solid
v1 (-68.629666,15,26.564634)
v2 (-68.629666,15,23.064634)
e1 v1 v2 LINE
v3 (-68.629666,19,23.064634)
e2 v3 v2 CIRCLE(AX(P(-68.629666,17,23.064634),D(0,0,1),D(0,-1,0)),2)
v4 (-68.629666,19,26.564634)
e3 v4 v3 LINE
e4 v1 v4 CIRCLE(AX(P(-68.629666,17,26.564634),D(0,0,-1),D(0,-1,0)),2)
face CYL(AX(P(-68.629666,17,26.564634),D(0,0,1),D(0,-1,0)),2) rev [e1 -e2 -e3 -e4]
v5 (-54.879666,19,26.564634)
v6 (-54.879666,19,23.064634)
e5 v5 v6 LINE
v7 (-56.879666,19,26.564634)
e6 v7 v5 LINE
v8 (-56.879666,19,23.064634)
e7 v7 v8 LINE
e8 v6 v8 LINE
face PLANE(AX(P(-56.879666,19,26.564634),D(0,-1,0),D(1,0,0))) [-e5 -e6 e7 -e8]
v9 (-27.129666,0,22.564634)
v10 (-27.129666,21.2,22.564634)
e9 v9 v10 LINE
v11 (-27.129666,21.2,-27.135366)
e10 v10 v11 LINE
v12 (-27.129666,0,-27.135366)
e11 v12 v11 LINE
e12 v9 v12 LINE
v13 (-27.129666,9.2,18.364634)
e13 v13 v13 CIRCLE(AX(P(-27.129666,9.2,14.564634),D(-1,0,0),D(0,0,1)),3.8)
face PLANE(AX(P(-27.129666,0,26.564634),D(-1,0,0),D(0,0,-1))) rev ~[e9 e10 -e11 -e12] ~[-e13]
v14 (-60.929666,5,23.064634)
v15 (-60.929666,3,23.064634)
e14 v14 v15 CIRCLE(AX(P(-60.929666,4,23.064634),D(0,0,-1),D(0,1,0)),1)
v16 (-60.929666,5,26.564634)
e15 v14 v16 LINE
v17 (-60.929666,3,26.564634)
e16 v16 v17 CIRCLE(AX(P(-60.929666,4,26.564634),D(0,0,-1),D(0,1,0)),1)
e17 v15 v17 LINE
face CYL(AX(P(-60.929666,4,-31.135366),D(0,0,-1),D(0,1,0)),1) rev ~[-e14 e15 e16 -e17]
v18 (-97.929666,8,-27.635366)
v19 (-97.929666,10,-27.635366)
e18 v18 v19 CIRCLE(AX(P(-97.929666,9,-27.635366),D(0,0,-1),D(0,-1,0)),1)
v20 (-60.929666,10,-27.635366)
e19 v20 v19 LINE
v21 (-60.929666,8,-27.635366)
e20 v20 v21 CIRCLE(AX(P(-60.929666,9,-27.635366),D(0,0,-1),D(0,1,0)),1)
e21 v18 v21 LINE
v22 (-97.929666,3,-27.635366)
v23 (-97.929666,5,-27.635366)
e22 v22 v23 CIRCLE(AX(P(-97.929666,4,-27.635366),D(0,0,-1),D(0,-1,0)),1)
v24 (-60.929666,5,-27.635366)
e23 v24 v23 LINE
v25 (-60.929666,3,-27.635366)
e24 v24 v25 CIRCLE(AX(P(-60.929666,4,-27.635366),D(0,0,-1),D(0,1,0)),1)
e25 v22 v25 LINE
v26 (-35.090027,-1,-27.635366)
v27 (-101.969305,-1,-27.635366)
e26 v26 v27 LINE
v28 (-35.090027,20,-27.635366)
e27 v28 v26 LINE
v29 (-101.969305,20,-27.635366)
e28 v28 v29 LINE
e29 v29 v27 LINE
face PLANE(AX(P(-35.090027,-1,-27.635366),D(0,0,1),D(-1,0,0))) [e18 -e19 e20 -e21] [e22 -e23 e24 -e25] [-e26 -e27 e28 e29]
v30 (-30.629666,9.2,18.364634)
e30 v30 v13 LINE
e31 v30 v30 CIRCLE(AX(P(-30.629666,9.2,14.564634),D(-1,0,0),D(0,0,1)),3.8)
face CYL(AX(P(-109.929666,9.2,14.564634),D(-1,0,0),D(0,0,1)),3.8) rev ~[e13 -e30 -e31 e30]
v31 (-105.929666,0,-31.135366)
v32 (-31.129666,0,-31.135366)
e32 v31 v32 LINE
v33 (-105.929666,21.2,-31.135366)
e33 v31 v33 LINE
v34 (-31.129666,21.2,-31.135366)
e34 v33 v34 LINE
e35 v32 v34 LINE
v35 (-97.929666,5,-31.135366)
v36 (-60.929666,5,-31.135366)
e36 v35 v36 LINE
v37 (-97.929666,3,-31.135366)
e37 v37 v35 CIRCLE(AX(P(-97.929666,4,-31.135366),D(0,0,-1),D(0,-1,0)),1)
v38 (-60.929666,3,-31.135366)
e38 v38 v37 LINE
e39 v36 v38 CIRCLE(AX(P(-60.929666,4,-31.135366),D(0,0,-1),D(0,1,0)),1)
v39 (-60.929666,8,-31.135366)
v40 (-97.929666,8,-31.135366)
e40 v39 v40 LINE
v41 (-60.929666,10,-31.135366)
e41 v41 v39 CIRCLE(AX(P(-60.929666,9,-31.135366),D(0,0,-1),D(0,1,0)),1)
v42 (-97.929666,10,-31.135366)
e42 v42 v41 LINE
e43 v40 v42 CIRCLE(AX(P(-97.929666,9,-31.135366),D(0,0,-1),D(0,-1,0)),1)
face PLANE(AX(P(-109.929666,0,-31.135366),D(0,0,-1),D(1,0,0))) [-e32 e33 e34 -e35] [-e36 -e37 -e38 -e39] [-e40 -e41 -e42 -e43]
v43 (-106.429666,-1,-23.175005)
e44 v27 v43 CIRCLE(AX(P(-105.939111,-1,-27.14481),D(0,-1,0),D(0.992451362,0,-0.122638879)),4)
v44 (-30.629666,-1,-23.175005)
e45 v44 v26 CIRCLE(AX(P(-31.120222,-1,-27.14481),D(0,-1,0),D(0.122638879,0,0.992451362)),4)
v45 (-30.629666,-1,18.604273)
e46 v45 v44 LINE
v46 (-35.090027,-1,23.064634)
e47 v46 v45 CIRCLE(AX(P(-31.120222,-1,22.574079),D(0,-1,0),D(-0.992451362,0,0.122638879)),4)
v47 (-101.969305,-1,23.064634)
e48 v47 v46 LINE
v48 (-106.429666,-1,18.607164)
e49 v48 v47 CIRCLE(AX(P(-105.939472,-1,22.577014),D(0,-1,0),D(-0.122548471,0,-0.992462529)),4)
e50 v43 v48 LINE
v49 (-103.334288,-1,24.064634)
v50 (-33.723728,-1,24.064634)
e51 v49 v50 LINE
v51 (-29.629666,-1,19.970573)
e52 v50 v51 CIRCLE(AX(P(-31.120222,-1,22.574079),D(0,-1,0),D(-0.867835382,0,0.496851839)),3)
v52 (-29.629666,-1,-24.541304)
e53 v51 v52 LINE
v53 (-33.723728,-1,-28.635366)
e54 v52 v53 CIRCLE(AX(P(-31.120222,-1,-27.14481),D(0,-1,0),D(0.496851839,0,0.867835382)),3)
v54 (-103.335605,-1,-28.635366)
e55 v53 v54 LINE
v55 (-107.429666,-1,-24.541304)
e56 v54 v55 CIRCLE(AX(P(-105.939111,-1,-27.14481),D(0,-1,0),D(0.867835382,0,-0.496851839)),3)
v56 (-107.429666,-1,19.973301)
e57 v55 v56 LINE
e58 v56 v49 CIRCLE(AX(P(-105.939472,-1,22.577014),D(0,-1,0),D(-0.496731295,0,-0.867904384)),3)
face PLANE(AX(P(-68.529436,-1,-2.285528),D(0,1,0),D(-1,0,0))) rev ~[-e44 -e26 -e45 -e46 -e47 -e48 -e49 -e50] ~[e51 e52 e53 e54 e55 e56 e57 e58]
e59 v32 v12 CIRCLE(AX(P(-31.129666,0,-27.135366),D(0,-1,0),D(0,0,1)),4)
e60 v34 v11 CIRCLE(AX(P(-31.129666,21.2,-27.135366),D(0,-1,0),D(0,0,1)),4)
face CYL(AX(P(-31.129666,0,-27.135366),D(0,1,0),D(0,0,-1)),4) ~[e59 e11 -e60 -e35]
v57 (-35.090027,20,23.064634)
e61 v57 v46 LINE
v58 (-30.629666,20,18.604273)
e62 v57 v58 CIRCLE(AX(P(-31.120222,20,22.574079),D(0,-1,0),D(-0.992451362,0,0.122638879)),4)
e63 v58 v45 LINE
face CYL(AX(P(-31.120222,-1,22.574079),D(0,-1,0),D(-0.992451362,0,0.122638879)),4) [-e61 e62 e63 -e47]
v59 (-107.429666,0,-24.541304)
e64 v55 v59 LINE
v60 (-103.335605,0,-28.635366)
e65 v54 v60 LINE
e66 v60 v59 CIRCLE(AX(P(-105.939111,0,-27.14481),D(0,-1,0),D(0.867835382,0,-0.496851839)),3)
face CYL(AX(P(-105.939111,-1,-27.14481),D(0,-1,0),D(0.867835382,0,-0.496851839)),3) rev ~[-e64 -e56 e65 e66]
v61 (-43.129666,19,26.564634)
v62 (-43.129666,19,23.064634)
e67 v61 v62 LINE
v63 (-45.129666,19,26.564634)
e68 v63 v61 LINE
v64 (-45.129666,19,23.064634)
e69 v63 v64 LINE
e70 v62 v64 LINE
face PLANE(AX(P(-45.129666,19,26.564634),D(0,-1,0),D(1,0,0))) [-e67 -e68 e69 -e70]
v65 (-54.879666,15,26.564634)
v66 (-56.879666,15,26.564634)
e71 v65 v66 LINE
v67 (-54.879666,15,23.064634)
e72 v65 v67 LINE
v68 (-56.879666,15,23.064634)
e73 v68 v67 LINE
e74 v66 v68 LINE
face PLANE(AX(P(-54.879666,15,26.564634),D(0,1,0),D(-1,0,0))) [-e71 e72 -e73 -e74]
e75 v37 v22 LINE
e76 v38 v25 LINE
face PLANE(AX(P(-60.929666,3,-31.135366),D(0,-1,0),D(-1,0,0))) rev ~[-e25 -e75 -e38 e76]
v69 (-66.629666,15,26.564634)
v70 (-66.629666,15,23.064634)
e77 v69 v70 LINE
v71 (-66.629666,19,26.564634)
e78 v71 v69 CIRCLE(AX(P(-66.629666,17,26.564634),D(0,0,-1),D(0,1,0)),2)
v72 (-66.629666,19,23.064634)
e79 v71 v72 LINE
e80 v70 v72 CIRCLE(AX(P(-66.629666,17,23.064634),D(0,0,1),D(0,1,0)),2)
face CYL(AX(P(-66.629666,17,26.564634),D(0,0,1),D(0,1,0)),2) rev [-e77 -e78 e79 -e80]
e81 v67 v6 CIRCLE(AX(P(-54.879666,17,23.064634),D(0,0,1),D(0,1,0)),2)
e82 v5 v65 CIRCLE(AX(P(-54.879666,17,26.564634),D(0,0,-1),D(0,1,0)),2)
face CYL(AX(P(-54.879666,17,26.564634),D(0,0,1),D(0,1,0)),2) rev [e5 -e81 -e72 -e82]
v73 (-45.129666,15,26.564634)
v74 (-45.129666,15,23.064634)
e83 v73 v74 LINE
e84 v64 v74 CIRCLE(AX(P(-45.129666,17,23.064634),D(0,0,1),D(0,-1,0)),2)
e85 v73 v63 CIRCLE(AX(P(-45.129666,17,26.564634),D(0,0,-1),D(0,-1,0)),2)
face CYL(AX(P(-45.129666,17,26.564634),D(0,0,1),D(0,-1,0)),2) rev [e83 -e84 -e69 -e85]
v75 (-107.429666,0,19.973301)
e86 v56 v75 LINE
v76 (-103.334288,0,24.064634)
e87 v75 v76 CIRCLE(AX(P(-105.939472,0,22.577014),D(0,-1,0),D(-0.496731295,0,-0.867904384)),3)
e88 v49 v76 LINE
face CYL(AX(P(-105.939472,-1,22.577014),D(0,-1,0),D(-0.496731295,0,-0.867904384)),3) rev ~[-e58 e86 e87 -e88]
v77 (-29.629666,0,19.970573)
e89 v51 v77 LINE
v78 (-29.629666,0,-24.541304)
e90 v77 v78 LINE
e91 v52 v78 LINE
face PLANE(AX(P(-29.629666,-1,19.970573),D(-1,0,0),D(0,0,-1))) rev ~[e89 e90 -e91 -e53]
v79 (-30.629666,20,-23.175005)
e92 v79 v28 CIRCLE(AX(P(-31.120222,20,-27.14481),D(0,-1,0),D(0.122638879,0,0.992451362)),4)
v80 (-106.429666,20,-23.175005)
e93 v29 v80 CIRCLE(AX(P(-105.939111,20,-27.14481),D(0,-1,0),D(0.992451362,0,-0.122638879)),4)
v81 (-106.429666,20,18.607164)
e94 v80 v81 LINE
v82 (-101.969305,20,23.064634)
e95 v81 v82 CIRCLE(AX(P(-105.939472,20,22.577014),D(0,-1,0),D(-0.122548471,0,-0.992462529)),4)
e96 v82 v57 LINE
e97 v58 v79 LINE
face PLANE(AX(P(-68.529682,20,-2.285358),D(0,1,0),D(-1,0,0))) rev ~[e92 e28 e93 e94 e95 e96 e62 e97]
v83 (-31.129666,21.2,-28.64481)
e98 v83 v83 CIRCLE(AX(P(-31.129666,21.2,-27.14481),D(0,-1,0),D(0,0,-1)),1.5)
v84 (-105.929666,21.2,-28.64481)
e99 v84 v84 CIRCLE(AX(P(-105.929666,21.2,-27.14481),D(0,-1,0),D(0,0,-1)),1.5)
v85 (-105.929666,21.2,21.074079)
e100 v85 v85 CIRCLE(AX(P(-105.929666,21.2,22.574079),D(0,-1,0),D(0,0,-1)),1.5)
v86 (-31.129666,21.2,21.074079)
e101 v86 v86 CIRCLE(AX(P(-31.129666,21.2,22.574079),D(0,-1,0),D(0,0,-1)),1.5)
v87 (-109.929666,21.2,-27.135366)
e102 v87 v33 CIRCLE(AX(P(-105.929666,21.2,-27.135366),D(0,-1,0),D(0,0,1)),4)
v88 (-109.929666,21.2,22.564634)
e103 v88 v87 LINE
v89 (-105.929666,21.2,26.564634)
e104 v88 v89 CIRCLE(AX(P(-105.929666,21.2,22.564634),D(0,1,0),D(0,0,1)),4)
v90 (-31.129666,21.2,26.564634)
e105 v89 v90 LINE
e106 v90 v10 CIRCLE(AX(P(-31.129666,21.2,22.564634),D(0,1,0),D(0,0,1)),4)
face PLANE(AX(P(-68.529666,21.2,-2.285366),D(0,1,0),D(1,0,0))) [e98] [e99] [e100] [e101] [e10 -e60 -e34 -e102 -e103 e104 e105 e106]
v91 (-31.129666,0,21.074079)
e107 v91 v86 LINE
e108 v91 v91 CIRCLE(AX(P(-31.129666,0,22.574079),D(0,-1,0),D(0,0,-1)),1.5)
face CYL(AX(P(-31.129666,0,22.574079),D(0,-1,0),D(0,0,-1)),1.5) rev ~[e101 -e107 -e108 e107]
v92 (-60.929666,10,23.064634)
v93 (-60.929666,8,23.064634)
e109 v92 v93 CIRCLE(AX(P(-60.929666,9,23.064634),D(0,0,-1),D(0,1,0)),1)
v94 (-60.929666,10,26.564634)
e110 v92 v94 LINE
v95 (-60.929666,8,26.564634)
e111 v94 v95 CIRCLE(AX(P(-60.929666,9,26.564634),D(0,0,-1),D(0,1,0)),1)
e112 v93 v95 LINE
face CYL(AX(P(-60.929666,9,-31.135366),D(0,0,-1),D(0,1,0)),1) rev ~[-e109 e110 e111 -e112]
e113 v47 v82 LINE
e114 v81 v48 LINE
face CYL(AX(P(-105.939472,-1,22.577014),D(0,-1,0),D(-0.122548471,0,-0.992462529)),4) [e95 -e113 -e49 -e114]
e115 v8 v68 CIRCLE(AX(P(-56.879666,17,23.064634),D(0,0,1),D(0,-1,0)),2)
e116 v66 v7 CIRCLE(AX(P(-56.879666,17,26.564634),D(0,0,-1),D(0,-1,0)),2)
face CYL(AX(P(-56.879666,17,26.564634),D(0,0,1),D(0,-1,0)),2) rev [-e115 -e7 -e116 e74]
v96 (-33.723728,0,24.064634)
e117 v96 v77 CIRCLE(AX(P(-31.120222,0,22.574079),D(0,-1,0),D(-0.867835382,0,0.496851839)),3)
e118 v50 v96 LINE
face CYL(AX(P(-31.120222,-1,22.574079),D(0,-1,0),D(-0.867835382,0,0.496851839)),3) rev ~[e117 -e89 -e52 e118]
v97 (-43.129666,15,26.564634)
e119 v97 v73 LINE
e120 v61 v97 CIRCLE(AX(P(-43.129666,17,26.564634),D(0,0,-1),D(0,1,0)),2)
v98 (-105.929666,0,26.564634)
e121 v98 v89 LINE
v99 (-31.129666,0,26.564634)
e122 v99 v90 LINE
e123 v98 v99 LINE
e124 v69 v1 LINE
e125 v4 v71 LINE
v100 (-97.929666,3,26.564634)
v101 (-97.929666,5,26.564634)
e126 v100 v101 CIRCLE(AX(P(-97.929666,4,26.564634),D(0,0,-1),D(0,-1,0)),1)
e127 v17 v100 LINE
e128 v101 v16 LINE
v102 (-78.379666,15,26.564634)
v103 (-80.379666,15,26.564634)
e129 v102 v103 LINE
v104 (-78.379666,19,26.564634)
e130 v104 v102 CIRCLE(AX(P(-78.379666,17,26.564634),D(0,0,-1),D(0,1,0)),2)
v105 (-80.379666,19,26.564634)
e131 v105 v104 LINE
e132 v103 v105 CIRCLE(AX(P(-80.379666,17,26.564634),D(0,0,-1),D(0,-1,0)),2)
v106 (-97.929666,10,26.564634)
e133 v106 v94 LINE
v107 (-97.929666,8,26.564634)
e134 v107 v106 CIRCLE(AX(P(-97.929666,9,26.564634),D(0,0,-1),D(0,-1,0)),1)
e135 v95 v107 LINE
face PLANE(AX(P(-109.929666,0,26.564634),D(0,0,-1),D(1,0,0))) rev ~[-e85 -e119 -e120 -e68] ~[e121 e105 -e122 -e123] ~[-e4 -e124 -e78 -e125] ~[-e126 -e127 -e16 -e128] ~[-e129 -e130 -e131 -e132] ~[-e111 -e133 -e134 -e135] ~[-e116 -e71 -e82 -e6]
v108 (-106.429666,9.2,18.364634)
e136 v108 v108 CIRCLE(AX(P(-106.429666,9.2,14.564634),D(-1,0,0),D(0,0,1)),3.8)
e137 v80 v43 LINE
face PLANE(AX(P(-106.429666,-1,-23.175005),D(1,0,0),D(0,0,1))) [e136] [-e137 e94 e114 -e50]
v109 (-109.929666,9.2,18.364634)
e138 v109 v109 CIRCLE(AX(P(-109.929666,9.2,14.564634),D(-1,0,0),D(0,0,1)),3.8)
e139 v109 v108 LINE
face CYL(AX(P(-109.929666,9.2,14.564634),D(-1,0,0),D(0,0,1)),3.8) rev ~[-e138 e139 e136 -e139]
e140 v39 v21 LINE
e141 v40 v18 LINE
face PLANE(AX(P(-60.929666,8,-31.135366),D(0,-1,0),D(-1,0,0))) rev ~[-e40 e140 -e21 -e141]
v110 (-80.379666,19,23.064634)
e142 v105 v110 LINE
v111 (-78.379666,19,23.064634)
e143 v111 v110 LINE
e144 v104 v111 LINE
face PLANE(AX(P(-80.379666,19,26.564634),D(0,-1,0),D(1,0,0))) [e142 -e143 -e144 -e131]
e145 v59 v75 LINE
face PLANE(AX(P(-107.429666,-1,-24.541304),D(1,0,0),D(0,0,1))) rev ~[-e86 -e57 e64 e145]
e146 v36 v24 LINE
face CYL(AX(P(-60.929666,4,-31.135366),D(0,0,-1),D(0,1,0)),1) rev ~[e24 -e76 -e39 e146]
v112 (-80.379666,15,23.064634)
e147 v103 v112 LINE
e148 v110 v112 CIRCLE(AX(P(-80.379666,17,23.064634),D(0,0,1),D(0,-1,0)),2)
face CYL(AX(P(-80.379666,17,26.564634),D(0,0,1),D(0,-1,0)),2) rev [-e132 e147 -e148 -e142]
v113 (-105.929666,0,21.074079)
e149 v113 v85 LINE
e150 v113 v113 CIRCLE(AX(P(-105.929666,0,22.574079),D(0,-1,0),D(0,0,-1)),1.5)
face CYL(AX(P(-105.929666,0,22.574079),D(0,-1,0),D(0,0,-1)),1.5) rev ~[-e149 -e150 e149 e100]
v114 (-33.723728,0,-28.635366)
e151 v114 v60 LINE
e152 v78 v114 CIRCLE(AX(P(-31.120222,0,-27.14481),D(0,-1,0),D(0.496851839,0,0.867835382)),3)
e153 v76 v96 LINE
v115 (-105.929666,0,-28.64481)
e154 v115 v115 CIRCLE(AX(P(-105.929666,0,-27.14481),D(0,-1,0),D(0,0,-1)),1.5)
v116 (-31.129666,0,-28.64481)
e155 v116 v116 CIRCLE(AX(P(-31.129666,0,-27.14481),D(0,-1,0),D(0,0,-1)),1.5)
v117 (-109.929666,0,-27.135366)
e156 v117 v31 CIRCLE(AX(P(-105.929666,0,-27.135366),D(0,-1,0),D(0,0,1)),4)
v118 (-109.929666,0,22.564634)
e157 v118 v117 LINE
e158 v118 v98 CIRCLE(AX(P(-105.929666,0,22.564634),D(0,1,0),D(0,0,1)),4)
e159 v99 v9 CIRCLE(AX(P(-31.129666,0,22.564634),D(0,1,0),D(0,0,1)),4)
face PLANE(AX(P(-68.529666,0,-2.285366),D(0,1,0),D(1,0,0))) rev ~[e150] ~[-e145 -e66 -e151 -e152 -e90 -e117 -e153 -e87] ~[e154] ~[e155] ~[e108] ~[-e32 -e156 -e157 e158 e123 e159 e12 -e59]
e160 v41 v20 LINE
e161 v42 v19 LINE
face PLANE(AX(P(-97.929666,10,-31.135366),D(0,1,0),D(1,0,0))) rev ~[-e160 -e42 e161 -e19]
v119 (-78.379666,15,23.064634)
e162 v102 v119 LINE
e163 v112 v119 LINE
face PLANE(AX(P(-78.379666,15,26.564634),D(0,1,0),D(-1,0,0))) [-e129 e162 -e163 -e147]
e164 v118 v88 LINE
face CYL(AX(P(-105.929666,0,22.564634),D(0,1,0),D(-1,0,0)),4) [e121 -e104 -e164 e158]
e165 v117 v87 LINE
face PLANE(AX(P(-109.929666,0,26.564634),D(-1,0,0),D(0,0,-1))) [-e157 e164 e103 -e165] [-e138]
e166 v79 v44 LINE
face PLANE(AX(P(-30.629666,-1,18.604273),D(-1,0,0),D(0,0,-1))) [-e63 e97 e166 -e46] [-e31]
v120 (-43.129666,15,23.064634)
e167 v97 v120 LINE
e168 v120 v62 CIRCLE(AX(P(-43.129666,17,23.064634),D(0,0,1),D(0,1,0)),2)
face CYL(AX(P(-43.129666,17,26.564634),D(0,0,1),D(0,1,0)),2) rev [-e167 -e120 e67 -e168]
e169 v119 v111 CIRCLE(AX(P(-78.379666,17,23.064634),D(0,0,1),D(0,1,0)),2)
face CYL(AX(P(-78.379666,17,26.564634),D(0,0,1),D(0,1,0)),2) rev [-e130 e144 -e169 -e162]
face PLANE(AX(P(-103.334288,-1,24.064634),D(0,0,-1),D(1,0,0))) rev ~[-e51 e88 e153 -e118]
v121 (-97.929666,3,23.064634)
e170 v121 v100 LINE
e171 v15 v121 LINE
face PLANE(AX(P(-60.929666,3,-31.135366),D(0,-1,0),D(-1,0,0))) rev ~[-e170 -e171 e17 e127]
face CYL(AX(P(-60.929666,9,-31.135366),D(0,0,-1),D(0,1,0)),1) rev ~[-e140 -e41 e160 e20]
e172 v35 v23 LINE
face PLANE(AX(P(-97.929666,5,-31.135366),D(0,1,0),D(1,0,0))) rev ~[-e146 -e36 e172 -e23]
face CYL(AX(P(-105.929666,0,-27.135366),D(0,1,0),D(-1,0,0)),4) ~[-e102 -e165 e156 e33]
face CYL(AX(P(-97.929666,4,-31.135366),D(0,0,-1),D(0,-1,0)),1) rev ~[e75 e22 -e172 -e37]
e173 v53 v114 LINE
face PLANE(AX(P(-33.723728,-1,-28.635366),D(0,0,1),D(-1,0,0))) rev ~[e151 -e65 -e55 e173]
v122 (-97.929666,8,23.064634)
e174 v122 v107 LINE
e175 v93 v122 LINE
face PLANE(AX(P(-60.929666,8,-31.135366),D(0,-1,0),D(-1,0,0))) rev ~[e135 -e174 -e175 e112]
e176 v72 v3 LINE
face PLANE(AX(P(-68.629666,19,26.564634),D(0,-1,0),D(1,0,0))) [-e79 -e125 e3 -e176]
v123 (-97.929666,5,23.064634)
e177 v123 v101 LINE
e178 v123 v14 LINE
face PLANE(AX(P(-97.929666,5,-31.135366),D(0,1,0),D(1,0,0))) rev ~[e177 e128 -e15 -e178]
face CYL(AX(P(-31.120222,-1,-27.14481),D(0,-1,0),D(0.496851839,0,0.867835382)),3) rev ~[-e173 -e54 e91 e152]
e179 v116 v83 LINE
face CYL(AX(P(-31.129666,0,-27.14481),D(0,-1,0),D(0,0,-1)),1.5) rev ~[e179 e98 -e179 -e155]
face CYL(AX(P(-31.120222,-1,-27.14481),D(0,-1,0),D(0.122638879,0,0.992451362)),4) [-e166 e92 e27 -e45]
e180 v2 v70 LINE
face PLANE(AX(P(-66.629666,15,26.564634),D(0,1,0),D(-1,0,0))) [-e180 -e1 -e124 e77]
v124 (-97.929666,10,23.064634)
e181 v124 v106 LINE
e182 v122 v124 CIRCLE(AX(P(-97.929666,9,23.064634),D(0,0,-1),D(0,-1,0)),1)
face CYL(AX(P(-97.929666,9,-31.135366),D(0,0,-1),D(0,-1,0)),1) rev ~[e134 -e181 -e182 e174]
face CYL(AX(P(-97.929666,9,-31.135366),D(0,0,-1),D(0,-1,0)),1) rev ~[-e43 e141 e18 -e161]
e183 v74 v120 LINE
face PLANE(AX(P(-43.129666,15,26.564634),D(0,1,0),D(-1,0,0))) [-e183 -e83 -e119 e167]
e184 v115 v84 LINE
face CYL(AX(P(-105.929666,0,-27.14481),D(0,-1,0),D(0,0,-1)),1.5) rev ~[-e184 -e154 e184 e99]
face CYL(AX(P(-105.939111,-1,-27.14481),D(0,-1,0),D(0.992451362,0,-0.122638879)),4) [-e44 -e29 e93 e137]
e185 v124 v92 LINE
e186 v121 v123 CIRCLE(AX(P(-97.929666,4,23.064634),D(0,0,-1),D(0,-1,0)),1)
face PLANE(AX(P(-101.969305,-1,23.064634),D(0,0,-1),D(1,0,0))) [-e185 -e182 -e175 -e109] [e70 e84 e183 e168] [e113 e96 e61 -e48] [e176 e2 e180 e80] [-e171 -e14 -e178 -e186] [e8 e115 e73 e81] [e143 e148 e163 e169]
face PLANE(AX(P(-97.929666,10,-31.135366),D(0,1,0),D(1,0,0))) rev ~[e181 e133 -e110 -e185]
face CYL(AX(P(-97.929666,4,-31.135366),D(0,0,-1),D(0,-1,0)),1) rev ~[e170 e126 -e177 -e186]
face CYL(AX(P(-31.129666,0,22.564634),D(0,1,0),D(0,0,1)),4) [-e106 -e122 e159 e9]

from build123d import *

# Parameters (mm, degrees)
SKETCH1_W           = 82.8
SKETCH1_H           = 57.7
BOSS_EXTRUDE1_DEPTH = 21.2
SKETCH2_R           = 1.5
CUT_EXTRUDE1_DEPTH  = 22
CUT_EXTRUDE2_DEPTH  = 20
FILLET3_R           = 4
BOSS_EXTRUDE3_START = 1
BOSS_EXTRUDE3_DEPTH = 1
CUT_EXTRUDE6_DEPTH  = 126.949440358
SKETCH8_R           = 3.8
CUT_EXTRUDE7_DEPTH  = 91.96532852
CUT_EXTRUDE8_DEPTH  = 10


with BuildPart() as part:
    # Sketch1 → Boss-Extrude1 (new body)
    with BuildSketch(Plane(origin=(0, 0, 0), x_dir=(1, 0, 0), z_dir=(0, 1, 0))):
        with Locations((-68.529666271, 2.285365627)):
            Rectangle(SKETCH1_W, SKETCH1_H)
    extrude(amount=BOSS_EXTRUDE1_DEPTH)

    # Sketch2 → Cut-Extrude1 (cut)
    with BuildSketch(Plane.XZ):
        with Locations((-105.929666271, 22.574078856)):
            Circle(SKETCH2_R)
        with Locations((-31.129666271, 22.574078856)):
            Circle(SKETCH2_R)
        with Locations((-105.929666271, -27.14481011)):
            Circle(SKETCH2_R)
        with Locations((-31.129666271, -27.14481011)):
            Circle(SKETCH2_R)
    extrude(amount=-CUT_EXTRUDE1_DEPTH, mode=Mode.SUBTRACT)

    # Sketch3 → Cut-Extrude2 (cut)
    with BuildSketch(Plane.XZ):
        with BuildLine():
            Line((-101.969305307, 23.064634373), (-35.090027235, 23.064634373))
            ThreePointArc((-35.090027235, 23.064634373), (-33.948648913, 19.745651731), (-30.629666271, 18.604273409))
            Line((-30.629666271, 18.604273409), (-30.629666271, -23.175004663))
            ThreePointArc((-30.629666271, -23.175004663), (-33.948648913, -24.316382985), (-35.090027235, -27.635365627))
            Line((-35.090027235, -27.635365627), (-101.969305307, -27.635365627))
            ThreePointArc((-101.969305307, -27.635365627), (-103.110683629, -24.316382985), (-106.429666271, -23.175004663))
            Line((-106.429666271, -23.175004663), (-106.429666271, 18.607164142))
            ThreePointArc((-106.429666271, 18.607164142), (-103.111962249, 19.747670443), (-101.969305307, 23.064634373))
        make_face()
    extrude(amount=-CUT_EXTRUDE2_DEPTH, mode=Mode.SUBTRACT)

    # Fillet3
    fillet3_edges = [part.edges().sort_by_distance(p)[0] for p in [
        (-27.129666271, 10.6, 26.564634373),
        (-109.929666271, 10.6, 26.564634373),
        (-109.929666271, 10.6, -31.135365627),
        (-27.129666271, 10.6, -31.135365627),
    ]]
    fillet(fillet3_edges, radius=FILLET3_R)

    # Sketch3<8> → Boss-Extrude3 (add)
    with BuildSketch(Plane.XZ.offset(BOSS_EXTRUDE3_START)):
        with BuildLine():
            Line((-103.334287863, 24.064634373), (-33.723727934, 24.064634373))
            ThreePointArc((-33.723727934, 24.064634373), (-33.241542132, 20.452758513), (-29.629666271, 19.97057271))
            Line((-29.629666271, 19.97057271), (-29.629666271, -24.541303964))
            ThreePointArc((-29.629666271, -24.541303964), (-33.241542132, -25.023489766), (-33.723727934, -28.635365627))
            Line((-33.723727934, -28.635365627), (-103.335604608, -28.635365627))
            ThreePointArc((-103.335604608, -28.635365627), (-103.817790411, -25.023489766), (-107.429666271, -24.541303964))
            Line((-107.429666271, -24.541303964), (-107.429666271, 19.973301106))
            ThreePointArc((-107.429666271, 19.973301106), (-103.819200468, 20.454646008), (-103.334287863, 24.064634373))
        make_face()
        with BuildLine():
            Line((-101.969305307, 23.064634373), (-35.090027235, 23.064634373))
            ThreePointArc((-35.090027235, 23.064634373), (-33.948648913, 19.745651731), (-30.629666271, 18.604273409))
            Line((-30.629666271, 18.604273409), (-30.629666271, -23.175004663))
            ThreePointArc((-30.629666271, -23.175004663), (-33.948648913, -24.316382985), (-35.090027235, -27.635365627))
            Line((-35.090027235, -27.635365627), (-101.969305307, -27.635365627))
            ThreePointArc((-101.969305307, -27.635365627), (-103.110683629, -24.316382985), (-106.429666271, -23.175004663))
            Line((-106.429666271, -23.175004663), (-106.429666271, 18.607164142))
            ThreePointArc((-106.429666271, 18.607164142), (-103.111962249, 19.747670443), (-101.969305307, 23.064634373))
        make_face(mode=Mode.SUBTRACT)
    extrude(amount=-BOSS_EXTRUDE3_DEPTH)

    # Sketch7 → Cut-Extrude6 (cut, through all)
    with BuildSketch(Plane(origin=(0, 0, -31.135365627), x_dir=(-1, 0, 0), z_dir=(0, 0, -1))):
        with BuildLine():
            Line((60.929666271, 3), (97.929666271, 3))
            ThreePointArc((97.929666271, 3), (98.929666271, 4), (97.929666271, 5))
            Line((97.929666271, 5), (60.929666271, 5))
            ThreePointArc((60.929666271, 5), (59.929666271, 4), (60.929666271, 3))
        make_face()
        with BuildLine():
            Line((60.929666271, 8), (97.929666271, 8))
            ThreePointArc((97.929666271, 8), (98.929666271, 9), (97.929666271, 10))
            Line((97.929666271, 10), (60.929666271, 10))
            ThreePointArc((60.929666271, 10), (59.929666271, 9), (60.929666271, 8))
        make_face()
    extrude(amount=-CUT_EXTRUDE6_DEPTH, mode=Mode.SUBTRACT)

    # Sketch8 → Cut-Extrude7 (cut, through all)
    with BuildSketch(Plane.ZY.offset(109.929666271)):
        with Locations((14.564634373, 9.2)):
            Circle(SKETCH8_R)
    extrude(amount=-CUT_EXTRUDE7_DEPTH, mode=Mode.SUBTRACT)

    # Sketch10 → Cut-Extrude8 (cut)
    with BuildSketch(Plane.XY.offset(26.564634373)):
        with BuildLine():
            Line((-43.129666271, 15), (-45.129666271, 15))
            ThreePointArc((-45.129666271, 15), (-47.129666271, 17), (-45.129666271, 19))
            Line((-45.129666271, 19), (-43.129666271, 19))
            ThreePointArc((-43.129666271, 19), (-41.129666271, 17), (-43.129666271, 15))
        make_face()
        with BuildLine():
            Line((-54.879666271, 15), (-56.879666271, 15))
            ThreePointArc((-56.879666271, 15), (-58.879666271, 17), (-56.879666271, 19))
            Line((-56.879666271, 19), (-54.879666271, 19))
            ThreePointArc((-54.879666271, 19), (-52.879666271, 17), (-54.879666271, 15))
        make_face()
        with BuildLine():
            Line((-66.629666271, 15), (-68.629666271, 15))
            ThreePointArc((-68.629666271, 15), (-70.629666271, 17), (-68.629666271, 19))
            Line((-68.629666271, 19), (-66.629666271, 19))
            ThreePointArc((-66.629666271, 19), (-64.629666271, 17), (-66.629666271, 15))
        make_face()
        with BuildLine():
            Line((-78.379666271, 15), (-80.379666271, 15))
            ThreePointArc((-80.379666271, 15), (-82.379666271, 17), (-80.379666271, 19))
            Line((-80.379666271, 19), (-78.379666271, 19))
            ThreePointArc((-78.379666271, 19), (-76.379666271, 17), (-78.379666271, 15))
        make_face()
    extrude(amount=-CUT_EXTRUDE8_DEPTH, mode=Mode.SUBTRACT)


solid = part.part
